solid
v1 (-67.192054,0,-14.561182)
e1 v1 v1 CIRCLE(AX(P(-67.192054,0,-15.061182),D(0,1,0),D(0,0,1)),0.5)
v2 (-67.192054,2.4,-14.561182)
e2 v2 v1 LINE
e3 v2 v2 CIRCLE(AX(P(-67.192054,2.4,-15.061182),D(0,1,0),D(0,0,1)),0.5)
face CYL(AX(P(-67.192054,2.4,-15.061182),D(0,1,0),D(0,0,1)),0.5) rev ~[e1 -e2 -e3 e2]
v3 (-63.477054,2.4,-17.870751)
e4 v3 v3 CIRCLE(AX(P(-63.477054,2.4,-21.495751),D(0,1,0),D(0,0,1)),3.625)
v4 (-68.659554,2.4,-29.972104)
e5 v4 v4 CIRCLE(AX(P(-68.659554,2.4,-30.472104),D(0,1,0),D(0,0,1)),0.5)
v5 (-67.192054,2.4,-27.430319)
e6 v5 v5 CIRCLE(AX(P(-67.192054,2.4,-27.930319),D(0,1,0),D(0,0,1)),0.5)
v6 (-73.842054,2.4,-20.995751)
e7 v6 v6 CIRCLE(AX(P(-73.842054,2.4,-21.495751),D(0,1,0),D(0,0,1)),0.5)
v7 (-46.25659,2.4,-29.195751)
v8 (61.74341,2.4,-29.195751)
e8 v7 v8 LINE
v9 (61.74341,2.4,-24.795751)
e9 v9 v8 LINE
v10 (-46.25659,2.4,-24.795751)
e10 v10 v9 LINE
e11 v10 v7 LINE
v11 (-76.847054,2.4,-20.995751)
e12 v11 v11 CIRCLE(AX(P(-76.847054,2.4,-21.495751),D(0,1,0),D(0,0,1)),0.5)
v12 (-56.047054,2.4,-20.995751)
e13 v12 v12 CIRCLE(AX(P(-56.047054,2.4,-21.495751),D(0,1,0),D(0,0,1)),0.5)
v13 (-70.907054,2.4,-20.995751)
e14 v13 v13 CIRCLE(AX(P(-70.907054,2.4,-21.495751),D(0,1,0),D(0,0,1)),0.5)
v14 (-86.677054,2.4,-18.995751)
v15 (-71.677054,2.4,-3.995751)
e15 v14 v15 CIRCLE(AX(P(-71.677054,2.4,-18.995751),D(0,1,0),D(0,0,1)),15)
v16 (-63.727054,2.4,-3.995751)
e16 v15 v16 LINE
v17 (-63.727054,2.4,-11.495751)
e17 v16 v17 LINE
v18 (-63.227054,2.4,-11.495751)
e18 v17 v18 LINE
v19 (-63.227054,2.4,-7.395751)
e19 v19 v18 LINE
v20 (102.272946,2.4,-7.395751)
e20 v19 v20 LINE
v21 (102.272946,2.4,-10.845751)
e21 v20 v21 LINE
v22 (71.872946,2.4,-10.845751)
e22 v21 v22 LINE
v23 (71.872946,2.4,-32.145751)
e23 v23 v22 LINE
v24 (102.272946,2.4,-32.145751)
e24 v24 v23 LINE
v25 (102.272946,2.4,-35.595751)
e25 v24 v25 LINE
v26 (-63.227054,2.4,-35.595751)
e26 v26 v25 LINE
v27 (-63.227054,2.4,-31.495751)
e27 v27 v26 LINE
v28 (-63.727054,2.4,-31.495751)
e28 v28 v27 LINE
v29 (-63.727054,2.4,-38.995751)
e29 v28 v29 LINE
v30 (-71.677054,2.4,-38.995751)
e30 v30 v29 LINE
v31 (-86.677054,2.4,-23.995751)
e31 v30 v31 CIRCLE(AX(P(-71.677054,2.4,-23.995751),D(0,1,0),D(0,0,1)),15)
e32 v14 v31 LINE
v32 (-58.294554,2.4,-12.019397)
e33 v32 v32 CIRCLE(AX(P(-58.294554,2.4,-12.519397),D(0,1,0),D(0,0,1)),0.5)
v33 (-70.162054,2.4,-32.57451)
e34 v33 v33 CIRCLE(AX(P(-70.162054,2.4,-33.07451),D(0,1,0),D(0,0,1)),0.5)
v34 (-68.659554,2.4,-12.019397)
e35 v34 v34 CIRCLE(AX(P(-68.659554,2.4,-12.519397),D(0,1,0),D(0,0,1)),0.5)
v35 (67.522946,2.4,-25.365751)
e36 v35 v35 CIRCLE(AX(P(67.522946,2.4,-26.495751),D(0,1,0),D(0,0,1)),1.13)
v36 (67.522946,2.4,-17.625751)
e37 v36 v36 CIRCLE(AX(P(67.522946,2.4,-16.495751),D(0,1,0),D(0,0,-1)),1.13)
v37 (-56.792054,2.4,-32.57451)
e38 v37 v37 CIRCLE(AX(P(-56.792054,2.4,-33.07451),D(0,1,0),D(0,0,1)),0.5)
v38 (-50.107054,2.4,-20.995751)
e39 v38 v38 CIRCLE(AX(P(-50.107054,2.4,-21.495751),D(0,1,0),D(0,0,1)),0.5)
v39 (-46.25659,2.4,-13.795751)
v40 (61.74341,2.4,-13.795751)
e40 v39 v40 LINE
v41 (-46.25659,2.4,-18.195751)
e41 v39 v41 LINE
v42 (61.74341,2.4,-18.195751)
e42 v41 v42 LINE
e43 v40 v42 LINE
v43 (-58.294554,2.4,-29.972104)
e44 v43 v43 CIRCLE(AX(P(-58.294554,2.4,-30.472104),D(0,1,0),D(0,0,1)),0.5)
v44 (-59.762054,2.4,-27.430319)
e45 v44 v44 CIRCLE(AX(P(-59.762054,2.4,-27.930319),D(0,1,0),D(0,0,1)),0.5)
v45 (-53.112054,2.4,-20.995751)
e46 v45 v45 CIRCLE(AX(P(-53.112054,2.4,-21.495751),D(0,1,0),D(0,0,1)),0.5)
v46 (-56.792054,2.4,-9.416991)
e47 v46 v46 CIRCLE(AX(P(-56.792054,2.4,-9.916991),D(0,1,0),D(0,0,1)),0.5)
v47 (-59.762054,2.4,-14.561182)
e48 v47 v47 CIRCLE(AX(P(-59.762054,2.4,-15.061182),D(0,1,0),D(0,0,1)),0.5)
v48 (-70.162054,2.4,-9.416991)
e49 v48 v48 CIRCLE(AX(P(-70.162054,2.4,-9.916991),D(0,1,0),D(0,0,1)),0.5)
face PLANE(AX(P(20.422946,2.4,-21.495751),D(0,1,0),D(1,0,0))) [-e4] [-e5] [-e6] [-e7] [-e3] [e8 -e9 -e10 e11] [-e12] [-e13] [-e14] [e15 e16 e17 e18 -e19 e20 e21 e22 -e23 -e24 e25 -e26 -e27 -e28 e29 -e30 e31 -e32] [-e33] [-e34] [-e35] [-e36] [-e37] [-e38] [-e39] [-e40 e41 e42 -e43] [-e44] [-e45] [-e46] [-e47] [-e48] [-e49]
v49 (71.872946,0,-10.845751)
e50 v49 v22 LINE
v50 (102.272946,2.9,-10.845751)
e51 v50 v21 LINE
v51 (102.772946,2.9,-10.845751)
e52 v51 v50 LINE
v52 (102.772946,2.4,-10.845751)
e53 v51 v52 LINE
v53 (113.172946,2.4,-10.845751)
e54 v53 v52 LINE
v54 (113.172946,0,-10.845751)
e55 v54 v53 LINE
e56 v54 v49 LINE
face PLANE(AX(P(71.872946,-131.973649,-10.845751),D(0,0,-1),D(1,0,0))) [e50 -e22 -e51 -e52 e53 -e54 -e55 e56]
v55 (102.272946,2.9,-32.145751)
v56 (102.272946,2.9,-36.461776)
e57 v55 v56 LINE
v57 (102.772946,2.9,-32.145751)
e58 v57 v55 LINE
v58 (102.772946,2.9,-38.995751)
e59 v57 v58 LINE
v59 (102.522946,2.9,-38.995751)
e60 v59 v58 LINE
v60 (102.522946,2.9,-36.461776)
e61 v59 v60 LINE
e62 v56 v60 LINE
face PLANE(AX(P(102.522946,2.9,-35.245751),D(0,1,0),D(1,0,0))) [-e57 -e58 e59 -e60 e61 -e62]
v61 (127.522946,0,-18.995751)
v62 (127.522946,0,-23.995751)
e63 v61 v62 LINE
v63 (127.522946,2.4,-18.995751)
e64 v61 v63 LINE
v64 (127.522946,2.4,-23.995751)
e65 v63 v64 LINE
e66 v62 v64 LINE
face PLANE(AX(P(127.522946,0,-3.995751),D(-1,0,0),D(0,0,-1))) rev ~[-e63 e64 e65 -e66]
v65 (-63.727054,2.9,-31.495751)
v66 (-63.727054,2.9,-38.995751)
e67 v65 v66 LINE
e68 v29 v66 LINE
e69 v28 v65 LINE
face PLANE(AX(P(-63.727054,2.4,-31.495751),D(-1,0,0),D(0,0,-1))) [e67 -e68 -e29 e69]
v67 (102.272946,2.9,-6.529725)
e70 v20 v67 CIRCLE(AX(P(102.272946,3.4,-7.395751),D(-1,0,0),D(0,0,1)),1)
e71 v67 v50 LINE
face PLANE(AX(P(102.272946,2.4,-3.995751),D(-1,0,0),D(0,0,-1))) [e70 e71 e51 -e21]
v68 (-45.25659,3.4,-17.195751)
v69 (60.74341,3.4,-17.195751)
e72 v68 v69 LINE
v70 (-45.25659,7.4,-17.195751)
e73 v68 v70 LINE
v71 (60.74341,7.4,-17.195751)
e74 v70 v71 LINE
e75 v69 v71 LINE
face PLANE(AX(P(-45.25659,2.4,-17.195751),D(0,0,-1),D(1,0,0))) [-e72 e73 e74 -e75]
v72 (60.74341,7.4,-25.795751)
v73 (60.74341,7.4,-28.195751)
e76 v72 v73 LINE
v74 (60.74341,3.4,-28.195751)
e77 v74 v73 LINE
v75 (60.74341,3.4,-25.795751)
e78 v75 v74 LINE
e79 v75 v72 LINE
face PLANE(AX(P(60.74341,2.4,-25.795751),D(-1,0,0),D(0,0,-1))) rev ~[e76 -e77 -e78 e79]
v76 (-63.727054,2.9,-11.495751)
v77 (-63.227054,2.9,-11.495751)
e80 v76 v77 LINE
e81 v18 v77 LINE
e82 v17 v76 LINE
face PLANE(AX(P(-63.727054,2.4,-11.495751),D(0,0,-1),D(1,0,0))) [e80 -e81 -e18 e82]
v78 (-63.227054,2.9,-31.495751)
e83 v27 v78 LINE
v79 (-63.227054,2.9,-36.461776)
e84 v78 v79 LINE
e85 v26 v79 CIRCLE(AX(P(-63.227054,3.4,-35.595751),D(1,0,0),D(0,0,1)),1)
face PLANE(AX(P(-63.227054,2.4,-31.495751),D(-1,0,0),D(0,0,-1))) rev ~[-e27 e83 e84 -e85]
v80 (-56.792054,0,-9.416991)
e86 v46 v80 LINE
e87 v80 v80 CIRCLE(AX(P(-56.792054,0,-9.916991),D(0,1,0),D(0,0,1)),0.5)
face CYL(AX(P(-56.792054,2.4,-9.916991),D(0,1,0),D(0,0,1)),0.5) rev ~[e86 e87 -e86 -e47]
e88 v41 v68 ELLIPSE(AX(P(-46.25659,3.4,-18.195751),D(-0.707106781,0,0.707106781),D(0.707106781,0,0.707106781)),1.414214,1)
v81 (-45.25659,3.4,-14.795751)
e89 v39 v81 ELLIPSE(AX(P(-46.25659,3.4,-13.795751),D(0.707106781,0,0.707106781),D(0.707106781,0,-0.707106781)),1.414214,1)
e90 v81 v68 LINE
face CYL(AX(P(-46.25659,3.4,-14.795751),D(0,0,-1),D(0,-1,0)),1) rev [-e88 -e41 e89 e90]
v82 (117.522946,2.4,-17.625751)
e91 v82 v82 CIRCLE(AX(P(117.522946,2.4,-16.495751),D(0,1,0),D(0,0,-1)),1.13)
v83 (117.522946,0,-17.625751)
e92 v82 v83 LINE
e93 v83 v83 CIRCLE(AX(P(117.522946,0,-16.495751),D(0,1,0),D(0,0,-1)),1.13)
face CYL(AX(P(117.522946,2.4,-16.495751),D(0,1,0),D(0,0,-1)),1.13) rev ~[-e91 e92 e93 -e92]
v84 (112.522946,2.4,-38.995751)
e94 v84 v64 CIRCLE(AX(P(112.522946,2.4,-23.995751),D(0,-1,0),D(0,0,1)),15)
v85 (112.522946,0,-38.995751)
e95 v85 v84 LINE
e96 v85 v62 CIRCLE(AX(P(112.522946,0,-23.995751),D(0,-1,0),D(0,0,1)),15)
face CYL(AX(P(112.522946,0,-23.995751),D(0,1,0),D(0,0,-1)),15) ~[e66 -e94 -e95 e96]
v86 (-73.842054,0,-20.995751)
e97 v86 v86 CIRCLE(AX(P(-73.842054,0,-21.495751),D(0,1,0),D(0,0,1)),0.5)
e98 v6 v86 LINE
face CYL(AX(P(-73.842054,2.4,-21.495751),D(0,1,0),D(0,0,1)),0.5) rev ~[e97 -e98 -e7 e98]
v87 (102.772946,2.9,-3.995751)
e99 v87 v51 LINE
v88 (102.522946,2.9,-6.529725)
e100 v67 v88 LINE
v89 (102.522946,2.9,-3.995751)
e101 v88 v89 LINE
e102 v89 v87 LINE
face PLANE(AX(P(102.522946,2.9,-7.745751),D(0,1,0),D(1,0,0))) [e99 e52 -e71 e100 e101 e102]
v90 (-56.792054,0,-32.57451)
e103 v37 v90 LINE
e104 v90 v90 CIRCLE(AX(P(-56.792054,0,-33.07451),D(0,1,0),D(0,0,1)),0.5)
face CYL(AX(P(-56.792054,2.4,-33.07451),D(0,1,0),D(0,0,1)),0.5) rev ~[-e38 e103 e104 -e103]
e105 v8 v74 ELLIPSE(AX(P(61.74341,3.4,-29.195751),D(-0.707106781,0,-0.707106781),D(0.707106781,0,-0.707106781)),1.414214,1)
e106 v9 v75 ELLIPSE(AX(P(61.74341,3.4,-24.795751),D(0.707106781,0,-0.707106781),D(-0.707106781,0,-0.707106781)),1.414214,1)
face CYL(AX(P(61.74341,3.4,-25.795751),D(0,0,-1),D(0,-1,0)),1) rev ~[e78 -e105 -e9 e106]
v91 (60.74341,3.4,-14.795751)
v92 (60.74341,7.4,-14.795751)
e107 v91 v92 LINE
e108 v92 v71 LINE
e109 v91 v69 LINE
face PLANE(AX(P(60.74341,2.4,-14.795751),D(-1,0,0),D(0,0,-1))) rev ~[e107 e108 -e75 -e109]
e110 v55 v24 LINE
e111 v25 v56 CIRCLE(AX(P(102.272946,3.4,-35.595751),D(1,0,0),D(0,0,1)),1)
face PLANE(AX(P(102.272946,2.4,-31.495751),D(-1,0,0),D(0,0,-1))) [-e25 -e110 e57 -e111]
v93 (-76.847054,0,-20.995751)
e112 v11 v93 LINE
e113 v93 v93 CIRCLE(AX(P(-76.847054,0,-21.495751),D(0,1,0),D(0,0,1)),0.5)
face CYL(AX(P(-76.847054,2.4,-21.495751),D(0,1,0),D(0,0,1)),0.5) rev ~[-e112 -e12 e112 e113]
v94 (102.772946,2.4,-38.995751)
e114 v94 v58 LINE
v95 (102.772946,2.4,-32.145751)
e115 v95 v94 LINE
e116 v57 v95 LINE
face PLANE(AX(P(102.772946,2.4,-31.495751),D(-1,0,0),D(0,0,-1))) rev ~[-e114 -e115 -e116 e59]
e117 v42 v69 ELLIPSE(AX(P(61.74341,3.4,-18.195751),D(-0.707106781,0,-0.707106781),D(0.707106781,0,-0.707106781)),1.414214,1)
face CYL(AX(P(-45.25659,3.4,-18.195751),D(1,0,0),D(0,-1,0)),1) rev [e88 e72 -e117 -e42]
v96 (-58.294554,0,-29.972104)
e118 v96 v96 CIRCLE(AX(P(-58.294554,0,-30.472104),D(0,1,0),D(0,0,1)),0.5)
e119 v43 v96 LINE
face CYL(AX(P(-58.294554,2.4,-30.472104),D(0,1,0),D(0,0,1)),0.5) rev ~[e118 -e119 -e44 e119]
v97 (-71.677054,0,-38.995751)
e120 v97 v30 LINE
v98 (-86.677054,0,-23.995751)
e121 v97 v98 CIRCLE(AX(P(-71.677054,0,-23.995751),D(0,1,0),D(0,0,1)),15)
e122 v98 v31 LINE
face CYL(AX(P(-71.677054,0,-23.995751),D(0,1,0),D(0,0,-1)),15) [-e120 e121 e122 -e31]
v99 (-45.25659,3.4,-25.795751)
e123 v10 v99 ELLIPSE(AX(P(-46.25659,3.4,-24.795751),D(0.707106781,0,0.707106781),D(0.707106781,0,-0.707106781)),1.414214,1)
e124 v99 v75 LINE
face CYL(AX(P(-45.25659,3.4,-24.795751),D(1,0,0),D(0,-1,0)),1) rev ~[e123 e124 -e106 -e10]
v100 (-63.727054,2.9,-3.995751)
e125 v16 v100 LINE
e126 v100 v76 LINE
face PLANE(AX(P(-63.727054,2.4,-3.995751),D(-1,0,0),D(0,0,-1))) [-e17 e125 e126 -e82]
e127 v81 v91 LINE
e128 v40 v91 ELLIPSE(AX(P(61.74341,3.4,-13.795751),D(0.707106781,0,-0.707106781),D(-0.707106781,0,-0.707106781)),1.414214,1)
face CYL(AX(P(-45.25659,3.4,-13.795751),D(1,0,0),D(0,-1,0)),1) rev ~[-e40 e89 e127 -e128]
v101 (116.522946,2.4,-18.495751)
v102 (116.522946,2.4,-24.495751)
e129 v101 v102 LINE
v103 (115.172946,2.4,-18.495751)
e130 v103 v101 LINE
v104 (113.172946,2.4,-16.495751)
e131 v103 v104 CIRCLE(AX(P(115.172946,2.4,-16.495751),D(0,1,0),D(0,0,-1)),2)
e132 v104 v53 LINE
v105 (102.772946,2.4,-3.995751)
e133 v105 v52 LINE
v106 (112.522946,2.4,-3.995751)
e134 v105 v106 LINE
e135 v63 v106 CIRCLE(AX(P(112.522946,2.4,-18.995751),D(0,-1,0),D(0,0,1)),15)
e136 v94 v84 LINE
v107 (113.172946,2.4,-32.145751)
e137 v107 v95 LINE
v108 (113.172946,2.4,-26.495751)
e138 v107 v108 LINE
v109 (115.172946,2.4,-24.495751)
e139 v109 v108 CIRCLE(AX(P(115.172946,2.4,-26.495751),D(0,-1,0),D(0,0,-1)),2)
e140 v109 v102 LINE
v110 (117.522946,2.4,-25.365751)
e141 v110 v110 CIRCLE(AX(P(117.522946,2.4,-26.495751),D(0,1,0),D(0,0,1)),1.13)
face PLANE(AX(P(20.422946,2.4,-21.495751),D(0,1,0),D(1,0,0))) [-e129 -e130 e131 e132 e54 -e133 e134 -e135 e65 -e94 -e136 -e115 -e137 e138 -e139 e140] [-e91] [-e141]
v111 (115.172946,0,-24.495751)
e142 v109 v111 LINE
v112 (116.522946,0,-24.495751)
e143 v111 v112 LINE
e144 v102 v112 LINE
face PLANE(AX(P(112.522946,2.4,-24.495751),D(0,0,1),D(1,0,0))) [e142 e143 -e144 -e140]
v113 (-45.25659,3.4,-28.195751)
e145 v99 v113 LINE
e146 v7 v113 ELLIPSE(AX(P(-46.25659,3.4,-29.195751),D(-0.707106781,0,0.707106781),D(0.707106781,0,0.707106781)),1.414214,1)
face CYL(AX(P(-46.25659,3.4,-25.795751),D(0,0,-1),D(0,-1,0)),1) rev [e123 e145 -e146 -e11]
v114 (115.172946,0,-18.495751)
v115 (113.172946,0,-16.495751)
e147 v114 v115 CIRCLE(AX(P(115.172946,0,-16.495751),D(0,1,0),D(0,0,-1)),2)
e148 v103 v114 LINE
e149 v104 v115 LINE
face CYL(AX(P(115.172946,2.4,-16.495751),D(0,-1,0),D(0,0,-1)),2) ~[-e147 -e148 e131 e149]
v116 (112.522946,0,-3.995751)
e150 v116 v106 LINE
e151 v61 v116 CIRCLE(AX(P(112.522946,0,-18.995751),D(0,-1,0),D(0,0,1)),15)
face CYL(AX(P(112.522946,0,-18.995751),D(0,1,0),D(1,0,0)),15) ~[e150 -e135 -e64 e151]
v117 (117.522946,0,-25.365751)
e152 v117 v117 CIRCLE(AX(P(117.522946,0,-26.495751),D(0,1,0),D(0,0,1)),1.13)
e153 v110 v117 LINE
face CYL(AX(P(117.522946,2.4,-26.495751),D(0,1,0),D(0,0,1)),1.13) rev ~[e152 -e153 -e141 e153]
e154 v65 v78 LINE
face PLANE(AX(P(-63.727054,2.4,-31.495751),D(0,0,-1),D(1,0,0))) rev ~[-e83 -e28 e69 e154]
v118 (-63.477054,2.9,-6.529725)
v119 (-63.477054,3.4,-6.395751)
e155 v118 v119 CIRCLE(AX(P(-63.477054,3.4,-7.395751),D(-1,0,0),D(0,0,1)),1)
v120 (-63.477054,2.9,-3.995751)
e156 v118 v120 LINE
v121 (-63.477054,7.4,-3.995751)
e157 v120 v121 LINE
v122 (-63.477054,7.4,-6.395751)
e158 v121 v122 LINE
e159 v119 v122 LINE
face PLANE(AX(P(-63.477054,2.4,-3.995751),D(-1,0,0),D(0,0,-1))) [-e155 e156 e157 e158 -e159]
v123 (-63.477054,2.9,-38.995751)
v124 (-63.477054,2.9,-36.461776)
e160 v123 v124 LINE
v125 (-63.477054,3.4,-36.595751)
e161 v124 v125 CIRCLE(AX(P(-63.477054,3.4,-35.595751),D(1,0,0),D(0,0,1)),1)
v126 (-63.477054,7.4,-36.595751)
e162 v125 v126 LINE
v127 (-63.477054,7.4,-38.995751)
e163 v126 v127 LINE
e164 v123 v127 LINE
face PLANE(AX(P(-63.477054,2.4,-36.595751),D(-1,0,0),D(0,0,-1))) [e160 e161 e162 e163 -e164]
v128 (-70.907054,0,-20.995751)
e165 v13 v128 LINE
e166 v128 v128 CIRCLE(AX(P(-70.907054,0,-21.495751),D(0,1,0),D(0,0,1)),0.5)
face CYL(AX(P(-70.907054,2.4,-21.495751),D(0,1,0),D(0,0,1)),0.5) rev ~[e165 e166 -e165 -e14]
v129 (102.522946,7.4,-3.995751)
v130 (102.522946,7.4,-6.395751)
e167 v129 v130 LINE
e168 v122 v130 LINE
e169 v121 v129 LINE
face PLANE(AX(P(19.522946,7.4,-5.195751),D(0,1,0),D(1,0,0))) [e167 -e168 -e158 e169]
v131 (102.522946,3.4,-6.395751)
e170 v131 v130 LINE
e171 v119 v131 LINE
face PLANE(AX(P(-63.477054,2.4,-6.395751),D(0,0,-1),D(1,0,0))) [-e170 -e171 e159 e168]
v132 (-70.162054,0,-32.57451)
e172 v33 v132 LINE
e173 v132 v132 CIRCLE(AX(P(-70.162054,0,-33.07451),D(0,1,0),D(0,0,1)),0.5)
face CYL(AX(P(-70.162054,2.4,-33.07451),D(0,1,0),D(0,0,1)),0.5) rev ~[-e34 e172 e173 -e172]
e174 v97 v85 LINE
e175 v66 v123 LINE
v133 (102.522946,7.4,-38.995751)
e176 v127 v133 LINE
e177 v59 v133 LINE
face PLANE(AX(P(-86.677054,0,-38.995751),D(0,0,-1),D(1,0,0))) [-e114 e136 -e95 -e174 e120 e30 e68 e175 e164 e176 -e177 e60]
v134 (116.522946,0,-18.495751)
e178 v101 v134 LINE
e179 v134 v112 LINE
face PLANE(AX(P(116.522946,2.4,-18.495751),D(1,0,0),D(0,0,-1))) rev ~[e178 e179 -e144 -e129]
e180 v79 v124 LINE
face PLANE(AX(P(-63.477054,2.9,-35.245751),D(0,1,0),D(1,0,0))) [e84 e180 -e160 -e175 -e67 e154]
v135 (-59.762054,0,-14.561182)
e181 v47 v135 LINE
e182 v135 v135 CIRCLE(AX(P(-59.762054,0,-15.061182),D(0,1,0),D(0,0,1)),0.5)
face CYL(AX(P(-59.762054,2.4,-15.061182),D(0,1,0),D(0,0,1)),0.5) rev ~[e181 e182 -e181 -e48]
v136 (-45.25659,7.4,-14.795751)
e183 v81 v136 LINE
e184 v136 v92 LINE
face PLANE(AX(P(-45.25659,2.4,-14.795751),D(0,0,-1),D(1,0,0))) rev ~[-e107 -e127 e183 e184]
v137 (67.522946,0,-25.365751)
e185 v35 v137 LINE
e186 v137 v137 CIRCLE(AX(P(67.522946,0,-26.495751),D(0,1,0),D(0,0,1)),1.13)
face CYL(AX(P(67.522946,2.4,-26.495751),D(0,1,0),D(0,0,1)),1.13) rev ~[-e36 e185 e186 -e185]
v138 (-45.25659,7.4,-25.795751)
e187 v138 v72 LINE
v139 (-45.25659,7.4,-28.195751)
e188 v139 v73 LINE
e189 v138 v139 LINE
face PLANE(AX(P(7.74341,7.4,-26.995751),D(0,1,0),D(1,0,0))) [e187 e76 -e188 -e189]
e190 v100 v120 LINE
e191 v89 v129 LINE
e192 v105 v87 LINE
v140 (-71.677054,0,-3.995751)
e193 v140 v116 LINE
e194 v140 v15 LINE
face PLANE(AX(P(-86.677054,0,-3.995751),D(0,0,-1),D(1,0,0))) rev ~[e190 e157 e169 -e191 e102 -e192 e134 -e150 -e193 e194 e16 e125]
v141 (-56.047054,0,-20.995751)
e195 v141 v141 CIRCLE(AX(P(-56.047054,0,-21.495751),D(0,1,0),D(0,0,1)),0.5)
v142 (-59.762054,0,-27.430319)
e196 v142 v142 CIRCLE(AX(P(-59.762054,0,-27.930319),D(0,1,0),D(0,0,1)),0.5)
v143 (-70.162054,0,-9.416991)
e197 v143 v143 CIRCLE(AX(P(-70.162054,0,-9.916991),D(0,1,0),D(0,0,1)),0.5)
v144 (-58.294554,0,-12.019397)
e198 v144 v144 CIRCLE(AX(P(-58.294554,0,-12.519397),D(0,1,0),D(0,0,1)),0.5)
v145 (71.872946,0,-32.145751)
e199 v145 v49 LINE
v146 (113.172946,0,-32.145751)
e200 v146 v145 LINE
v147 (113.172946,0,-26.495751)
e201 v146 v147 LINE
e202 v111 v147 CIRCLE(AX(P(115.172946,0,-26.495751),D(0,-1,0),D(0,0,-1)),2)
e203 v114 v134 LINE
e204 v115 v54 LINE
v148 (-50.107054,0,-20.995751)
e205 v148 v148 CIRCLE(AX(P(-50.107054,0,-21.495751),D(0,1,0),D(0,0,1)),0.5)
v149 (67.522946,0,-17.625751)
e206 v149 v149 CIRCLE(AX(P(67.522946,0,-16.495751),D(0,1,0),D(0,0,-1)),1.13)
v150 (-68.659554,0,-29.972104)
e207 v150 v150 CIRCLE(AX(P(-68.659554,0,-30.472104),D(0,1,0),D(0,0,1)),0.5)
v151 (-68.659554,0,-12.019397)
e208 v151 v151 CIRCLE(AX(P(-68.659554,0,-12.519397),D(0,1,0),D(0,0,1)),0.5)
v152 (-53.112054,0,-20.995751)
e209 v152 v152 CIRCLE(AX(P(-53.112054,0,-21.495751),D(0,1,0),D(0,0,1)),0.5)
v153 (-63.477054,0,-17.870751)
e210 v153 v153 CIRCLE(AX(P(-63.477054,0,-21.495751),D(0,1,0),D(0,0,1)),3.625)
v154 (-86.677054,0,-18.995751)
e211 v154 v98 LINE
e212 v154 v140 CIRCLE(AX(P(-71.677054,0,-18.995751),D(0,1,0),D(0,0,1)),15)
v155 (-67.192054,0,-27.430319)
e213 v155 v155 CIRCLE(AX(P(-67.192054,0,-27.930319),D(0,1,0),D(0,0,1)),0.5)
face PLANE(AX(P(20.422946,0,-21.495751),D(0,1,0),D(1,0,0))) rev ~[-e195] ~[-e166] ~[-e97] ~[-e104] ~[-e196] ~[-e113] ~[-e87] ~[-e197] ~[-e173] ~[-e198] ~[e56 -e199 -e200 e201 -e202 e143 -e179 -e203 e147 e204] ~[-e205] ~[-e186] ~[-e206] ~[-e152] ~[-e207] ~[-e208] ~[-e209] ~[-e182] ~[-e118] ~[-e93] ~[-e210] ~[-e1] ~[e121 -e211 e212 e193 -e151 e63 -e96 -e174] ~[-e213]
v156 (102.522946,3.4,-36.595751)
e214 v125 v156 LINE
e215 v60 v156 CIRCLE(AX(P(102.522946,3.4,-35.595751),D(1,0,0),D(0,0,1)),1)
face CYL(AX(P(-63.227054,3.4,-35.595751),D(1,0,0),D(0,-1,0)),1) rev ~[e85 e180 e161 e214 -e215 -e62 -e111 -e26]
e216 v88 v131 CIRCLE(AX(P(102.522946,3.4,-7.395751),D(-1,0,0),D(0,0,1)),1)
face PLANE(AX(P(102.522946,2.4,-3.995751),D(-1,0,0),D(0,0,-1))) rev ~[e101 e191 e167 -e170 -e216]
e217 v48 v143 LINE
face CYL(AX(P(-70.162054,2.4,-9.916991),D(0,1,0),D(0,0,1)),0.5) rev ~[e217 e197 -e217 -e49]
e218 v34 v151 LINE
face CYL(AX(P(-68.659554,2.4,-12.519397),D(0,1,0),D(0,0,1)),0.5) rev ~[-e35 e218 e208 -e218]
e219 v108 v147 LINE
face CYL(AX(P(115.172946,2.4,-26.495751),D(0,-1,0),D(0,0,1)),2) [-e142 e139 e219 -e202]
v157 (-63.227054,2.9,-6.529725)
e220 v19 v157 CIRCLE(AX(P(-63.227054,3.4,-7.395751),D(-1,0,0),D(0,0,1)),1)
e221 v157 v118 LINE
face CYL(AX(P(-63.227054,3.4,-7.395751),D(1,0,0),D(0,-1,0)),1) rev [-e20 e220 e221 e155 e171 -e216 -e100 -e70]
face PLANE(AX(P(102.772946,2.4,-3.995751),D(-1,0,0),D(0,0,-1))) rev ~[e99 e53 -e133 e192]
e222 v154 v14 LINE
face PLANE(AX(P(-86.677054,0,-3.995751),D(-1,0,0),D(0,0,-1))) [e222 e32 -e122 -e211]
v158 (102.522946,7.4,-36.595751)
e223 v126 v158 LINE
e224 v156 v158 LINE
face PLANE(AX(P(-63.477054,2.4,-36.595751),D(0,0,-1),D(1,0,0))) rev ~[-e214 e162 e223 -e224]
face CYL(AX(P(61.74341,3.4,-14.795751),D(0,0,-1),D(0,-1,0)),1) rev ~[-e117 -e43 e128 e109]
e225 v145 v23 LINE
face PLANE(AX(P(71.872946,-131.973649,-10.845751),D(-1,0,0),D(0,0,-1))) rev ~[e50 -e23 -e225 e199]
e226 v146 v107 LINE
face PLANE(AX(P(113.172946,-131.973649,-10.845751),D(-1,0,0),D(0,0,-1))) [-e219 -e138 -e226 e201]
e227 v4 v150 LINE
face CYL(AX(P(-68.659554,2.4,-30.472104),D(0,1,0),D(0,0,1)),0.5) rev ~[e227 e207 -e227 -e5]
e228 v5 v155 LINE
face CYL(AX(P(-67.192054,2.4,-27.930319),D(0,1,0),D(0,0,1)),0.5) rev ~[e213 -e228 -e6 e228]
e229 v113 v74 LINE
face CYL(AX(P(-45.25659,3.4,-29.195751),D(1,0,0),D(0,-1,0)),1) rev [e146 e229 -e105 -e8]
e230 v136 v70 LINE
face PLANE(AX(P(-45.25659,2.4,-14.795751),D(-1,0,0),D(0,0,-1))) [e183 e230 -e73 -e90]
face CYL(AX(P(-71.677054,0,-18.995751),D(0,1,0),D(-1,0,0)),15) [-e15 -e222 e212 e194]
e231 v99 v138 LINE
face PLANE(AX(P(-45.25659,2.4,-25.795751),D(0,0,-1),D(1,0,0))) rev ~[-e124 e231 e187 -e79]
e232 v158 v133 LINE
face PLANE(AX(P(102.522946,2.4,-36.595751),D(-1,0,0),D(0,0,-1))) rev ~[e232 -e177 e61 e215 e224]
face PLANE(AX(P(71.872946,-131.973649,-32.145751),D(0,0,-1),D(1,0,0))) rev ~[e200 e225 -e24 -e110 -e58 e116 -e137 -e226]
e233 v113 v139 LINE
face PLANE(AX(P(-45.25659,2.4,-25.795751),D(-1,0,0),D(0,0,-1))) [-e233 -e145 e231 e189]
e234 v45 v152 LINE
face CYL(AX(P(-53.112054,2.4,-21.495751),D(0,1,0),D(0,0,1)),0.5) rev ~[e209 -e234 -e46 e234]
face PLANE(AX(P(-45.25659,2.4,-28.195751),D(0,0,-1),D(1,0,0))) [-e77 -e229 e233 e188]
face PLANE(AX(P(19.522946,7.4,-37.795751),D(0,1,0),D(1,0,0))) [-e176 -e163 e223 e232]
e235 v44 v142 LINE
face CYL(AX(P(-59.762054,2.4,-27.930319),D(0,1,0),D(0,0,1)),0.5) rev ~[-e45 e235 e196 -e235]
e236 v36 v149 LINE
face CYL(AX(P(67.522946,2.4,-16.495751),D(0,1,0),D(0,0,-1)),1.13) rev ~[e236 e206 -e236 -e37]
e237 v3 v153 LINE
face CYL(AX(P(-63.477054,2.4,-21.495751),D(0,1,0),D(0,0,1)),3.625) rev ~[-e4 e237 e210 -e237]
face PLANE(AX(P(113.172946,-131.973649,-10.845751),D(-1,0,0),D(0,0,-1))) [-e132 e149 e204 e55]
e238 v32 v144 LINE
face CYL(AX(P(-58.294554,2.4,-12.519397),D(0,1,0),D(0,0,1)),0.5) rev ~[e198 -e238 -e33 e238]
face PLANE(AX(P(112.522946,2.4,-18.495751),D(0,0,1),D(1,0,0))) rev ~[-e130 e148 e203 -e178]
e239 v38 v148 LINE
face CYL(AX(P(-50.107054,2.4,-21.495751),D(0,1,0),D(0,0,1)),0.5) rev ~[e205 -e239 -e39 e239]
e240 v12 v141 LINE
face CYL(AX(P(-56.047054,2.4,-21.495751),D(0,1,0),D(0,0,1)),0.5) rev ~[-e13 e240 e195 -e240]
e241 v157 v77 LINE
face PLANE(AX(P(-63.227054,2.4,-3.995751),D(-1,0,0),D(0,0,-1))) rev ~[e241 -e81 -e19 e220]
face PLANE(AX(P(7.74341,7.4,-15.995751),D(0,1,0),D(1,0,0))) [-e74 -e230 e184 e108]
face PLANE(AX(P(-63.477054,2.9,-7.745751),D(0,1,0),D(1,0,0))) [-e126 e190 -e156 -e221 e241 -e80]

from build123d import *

# Parameters (mm, degrees)
SKETCH1_W               = 214.2
SKETCH1_H               = 35
BOSS_EXTRUDE1_DEPTH     = 2.4
SKETCH2_R               = 1.13
SKETCH2_R_2             = 3.625
SKETCH2_R_3             = 0.5
SKETCH2_W               = 40
SKETCH2_H               = 20
CUT_EXTRUDE1_DEPTH      = 2.4
SKETCH4_W               = 4
SKETCH4_H               = 6
CUT_EXTRUDE2_DEPTH      = 2.4
SKETCH5_W               = 0.5
SKETCH5_H               = 7.5
BOSS_EXTRUDE2_DEPTH     = 0.5
CUT_EXTRUDE3_DEPTH      = 134.373649476
CUT_EXTRUDE3_DEPTH_BACK = 134.373649476
SKETCH7_W               = 41.3
SKETCH7_H               = 21.3
SKETCH7_W_2             = 40
SKETCH7_H_2             = 20
SKETCH8_W               = 166
SKETCH8_H               = 2.4
SKETCH8_W_2             = 106
BOSS_EXTRUDE3_DEPTH     = 5
FILLET1_R               = 15
FILLET2_R               = 2
FILLET3_R               = 1


with BuildPart() as part:
    # Sketch1 → Boss-Extrude1 (new body)
    with BuildSketch(Plane(origin=(0, 0, 0), x_dir=(1, 0, 0), z_dir=(0, 1, 0))):
        with Locations((20.422946176, 21.495750708)):
            Rectangle(SKETCH1_W, SKETCH1_H)
    extrude(amount=BOSS_EXTRUDE1_DEPTH)

    # Sketch2 → Cut-Extrude1 (cut)
    with BuildSketch(Plane(origin=(0, 2.4, 0), x_dir=(1, 0, 0), z_dir=(0, 1, 0))):
        with Locations(Location((67.522946176, 26.495750708, 0), (0, 0, 270))):
            Circle(SKETCH2_R)
        with Locations(Location((117.522946176, 26.495750708, 0), (0, 0, 270))):
            Circle(SKETCH2_R)
        with Locations(Location((117.522946176, 16.495750708, 0), (0, 0, 90))):
            Circle(SKETCH2_R)
        with Locations(Location((67.522946176, 16.495750708, 0), (0, 0, 90))):
            Circle(SKETCH2_R)
        with Locations(Location((-63.477053824, 21.495750708, 0), (0, 0, 270))):
            Circle(SKETCH2_R_2)
        with Locations(Location((-70.907053824, 21.495750708, 0), (0, 0, 270))):
            Circle(SKETCH2_R_3)
        with Locations(Location((-73.842053824, 21.495750708, 0), (0, 0, 270))):
            Circle(SKETCH2_R_3)
        with Locations(Location((-76.847053824, 21.495750708, 0), (0, 0, 270))):
            Circle(SKETCH2_R_3)
        with Locations(Location((-70.162053824, 33.074510357, 0), (0, 0, 270))):
            Circle(SKETCH2_R_3)
        with Locations(Location((-68.659553824, 30.472104018, 0), (0, 0, 270))):
            Circle(SKETCH2_R_3)
        with Locations(Location((-67.192053824, 27.930319458, 0), (0, 0, 270))):
            Circle(SKETCH2_R_3)
        with Locations(Location((-56.792053824, 33.074510357, 0), (0, 0, 270))):
            Circle(SKETCH2_R_3)
        with Locations(Location((-58.294553824, 30.472104018, 0), (0, 0, 270))):
            Circle(SKETCH2_R_3)
        with Locations(Location((-59.762053824, 27.930319458, 0), (0, 0, 270))):
            Circle(SKETCH2_R_3)
        with Locations(Location((-50.107053824, 21.495750708, 0), (0, 0, 270))):
            Circle(SKETCH2_R_3)
        with Locations(Location((-53.112053824, 21.495750708, 0), (0, 0, 270))):
            Circle(SKETCH2_R_3)
        with Locations(Location((-56.047053824, 21.495750708, 0), (0, 0, 270))):
            Circle(SKETCH2_R_3)
        with Locations(Location((-56.792053824, 9.91699106, 0), (0, 0, 270))):
            Circle(SKETCH2_R_3)
        with Locations(Location((-58.294553824, 12.519397398, 0), (0, 0, 270))):
            Circle(SKETCH2_R_3)
        with Locations(Location((-59.762053824, 15.061181958, 0), (0, 0, 270))):
            Circle(SKETCH2_R_3)
        with Locations(Location((-70.162053824, 9.91699106, 0), (0, 0, 270))):
            Circle(SKETCH2_R_3)
        with Locations(Location((-68.659553824, 12.519397398, 0), (0, 0, 270))):
            Circle(SKETCH2_R_3)
        with Locations(Location((-67.192053824, 15.061181958, 0), (0, 0, 270))):
            Circle(SKETCH2_R_3)
        with Locations((92.522946176, 21.495750708)):
            Rectangle(SKETCH2_W, SKETCH2_H)
    extrude(amount=-CUT_EXTRUDE1_DEPTH, mode=Mode.SUBTRACT)

    # Sketch4 → Cut-Extrude2 (cut)
    with BuildSketch(Plane(origin=(0, 2.4, 0), x_dir=(1, 0, 0), z_dir=(0, 1, 0))):
        with Locations((114.522946176, 21.495750708)):
            Rectangle(SKETCH4_W, SKETCH4_H)
    extrude(amount=-CUT_EXTRUDE2_DEPTH, mode=Mode.SUBTRACT)

    # Sketch5 → Boss-Extrude2 (add)
    with BuildSketch(Plane(origin=(0, 2.4, 0), x_dir=(1, 0, 0), z_dir=(0, 1, 0))):
        with Locations((102.522946176, 35.245750708)):
            Rectangle(SKETCH5_W, SKETCH5_H)
        with Locations((102.522946176, 7.745750708)):
            Rectangle(SKETCH5_W, SKETCH5_H)
        with Locations((-63.477053824, 7.745750708)):
            Rectangle(SKETCH5_W, SKETCH5_H)
        with Locations((-63.477053824, 35.245750708)):
            Rectangle(SKETCH5_W, SKETCH5_H)
    extrude(amount=BOSS_EXTRUDE2_DEPTH)

    # Sketch7 → Cut-Extrude3 (cut, two sides: drawn at the far end of the back side and taken through both)
    with BuildSketch(Plane(origin=(0, 2.4, 0), x_dir=(1, 0, 0), z_dir=(0, 1, 0)).offset(-CUT_EXTRUDE3_DEPTH_BACK)):
        with Locations((92.522946176, 21.495750708)):
            Rectangle(SKETCH7_W, SKETCH7_H)
        with Locations((92.522946176, 21.495750708)):
            Rectangle(SKETCH7_W_2, SKETCH7_H_2, mode=Mode.SUBTRACT)
    extrude(amount=CUT_EXTRUDE3_DEPTH + CUT_EXTRUDE3_DEPTH_BACK, mode=Mode.SUBTRACT)

    # Sketch8 → Boss-Extrude3 (add)
    with BuildSketch(Plane(origin=(0, 2.4, 0), x_dir=(1, 0, 0), z_dir=(0, 1, 0))):
        with Locations((19.522946176, 37.795750708)):
            Rectangle(SKETCH8_W, SKETCH8_H)
        with Locations((7.743410163, 26.995750708)):
            Rectangle(SKETCH8_W_2, SKETCH8_H)
        with Locations((7.743410163, 15.995750708)):
            Rectangle(SKETCH8_W_2, SKETCH8_H)
        with Locations((19.522946176, 5.195750708)):
            Rectangle(SKETCH8_W, SKETCH8_H)
    extrude(amount=BOSS_EXTRUDE3_DEPTH)

    # Fillet1
    fillet1_edges = [part.edges().sort_by_distance(p)[0] for p in [
        (-86.677053824, 1.2, -38.995750708),
        (127.522946176, 1.2, -38.995750708),
        (127.522946176, 1.2, -3.995750708),
        (-86.677053824, 1.2, -3.995750708),
    ]]
    fillet(fillet1_edges, radius=FILLET1_R)

    # Fillet2
    fillet2_edges = [part.edges().sort_by_distance(p)[0] for p in [
        (113.172946176, 1.2, -18.495750708),
        (113.172946176, 1.2, -24.495750708),
    ]]
    fillet(fillet2_edges, radius=FILLET2_R)

    # Fillet3
    fillet3_edges = [part.edges().sort_by_distance(p)[0] for p in [
        (19.522946176, 2.4, -6.395750708),
        (60.743410163, 2.4, -15.995750708),
        (7.743410163, 2.4, -17.195750708),
        (60.743410163, 2.4, -26.995750708),
        (7.743410163, 2.4, -28.195750708),
        (7.743410163, 2.4, -14.795750708),
        (-45.256589837, 2.4, -15.995750708),
        (-45.256589837, 2.4, -26.995750708),
        (7.743410163, 2.4, -25.795750708),
        (19.522946176, 2.4, -36.595750708),
    ]]
    fillet(fillet3_edges, radius=FILLET3_R)


solid = part.part
